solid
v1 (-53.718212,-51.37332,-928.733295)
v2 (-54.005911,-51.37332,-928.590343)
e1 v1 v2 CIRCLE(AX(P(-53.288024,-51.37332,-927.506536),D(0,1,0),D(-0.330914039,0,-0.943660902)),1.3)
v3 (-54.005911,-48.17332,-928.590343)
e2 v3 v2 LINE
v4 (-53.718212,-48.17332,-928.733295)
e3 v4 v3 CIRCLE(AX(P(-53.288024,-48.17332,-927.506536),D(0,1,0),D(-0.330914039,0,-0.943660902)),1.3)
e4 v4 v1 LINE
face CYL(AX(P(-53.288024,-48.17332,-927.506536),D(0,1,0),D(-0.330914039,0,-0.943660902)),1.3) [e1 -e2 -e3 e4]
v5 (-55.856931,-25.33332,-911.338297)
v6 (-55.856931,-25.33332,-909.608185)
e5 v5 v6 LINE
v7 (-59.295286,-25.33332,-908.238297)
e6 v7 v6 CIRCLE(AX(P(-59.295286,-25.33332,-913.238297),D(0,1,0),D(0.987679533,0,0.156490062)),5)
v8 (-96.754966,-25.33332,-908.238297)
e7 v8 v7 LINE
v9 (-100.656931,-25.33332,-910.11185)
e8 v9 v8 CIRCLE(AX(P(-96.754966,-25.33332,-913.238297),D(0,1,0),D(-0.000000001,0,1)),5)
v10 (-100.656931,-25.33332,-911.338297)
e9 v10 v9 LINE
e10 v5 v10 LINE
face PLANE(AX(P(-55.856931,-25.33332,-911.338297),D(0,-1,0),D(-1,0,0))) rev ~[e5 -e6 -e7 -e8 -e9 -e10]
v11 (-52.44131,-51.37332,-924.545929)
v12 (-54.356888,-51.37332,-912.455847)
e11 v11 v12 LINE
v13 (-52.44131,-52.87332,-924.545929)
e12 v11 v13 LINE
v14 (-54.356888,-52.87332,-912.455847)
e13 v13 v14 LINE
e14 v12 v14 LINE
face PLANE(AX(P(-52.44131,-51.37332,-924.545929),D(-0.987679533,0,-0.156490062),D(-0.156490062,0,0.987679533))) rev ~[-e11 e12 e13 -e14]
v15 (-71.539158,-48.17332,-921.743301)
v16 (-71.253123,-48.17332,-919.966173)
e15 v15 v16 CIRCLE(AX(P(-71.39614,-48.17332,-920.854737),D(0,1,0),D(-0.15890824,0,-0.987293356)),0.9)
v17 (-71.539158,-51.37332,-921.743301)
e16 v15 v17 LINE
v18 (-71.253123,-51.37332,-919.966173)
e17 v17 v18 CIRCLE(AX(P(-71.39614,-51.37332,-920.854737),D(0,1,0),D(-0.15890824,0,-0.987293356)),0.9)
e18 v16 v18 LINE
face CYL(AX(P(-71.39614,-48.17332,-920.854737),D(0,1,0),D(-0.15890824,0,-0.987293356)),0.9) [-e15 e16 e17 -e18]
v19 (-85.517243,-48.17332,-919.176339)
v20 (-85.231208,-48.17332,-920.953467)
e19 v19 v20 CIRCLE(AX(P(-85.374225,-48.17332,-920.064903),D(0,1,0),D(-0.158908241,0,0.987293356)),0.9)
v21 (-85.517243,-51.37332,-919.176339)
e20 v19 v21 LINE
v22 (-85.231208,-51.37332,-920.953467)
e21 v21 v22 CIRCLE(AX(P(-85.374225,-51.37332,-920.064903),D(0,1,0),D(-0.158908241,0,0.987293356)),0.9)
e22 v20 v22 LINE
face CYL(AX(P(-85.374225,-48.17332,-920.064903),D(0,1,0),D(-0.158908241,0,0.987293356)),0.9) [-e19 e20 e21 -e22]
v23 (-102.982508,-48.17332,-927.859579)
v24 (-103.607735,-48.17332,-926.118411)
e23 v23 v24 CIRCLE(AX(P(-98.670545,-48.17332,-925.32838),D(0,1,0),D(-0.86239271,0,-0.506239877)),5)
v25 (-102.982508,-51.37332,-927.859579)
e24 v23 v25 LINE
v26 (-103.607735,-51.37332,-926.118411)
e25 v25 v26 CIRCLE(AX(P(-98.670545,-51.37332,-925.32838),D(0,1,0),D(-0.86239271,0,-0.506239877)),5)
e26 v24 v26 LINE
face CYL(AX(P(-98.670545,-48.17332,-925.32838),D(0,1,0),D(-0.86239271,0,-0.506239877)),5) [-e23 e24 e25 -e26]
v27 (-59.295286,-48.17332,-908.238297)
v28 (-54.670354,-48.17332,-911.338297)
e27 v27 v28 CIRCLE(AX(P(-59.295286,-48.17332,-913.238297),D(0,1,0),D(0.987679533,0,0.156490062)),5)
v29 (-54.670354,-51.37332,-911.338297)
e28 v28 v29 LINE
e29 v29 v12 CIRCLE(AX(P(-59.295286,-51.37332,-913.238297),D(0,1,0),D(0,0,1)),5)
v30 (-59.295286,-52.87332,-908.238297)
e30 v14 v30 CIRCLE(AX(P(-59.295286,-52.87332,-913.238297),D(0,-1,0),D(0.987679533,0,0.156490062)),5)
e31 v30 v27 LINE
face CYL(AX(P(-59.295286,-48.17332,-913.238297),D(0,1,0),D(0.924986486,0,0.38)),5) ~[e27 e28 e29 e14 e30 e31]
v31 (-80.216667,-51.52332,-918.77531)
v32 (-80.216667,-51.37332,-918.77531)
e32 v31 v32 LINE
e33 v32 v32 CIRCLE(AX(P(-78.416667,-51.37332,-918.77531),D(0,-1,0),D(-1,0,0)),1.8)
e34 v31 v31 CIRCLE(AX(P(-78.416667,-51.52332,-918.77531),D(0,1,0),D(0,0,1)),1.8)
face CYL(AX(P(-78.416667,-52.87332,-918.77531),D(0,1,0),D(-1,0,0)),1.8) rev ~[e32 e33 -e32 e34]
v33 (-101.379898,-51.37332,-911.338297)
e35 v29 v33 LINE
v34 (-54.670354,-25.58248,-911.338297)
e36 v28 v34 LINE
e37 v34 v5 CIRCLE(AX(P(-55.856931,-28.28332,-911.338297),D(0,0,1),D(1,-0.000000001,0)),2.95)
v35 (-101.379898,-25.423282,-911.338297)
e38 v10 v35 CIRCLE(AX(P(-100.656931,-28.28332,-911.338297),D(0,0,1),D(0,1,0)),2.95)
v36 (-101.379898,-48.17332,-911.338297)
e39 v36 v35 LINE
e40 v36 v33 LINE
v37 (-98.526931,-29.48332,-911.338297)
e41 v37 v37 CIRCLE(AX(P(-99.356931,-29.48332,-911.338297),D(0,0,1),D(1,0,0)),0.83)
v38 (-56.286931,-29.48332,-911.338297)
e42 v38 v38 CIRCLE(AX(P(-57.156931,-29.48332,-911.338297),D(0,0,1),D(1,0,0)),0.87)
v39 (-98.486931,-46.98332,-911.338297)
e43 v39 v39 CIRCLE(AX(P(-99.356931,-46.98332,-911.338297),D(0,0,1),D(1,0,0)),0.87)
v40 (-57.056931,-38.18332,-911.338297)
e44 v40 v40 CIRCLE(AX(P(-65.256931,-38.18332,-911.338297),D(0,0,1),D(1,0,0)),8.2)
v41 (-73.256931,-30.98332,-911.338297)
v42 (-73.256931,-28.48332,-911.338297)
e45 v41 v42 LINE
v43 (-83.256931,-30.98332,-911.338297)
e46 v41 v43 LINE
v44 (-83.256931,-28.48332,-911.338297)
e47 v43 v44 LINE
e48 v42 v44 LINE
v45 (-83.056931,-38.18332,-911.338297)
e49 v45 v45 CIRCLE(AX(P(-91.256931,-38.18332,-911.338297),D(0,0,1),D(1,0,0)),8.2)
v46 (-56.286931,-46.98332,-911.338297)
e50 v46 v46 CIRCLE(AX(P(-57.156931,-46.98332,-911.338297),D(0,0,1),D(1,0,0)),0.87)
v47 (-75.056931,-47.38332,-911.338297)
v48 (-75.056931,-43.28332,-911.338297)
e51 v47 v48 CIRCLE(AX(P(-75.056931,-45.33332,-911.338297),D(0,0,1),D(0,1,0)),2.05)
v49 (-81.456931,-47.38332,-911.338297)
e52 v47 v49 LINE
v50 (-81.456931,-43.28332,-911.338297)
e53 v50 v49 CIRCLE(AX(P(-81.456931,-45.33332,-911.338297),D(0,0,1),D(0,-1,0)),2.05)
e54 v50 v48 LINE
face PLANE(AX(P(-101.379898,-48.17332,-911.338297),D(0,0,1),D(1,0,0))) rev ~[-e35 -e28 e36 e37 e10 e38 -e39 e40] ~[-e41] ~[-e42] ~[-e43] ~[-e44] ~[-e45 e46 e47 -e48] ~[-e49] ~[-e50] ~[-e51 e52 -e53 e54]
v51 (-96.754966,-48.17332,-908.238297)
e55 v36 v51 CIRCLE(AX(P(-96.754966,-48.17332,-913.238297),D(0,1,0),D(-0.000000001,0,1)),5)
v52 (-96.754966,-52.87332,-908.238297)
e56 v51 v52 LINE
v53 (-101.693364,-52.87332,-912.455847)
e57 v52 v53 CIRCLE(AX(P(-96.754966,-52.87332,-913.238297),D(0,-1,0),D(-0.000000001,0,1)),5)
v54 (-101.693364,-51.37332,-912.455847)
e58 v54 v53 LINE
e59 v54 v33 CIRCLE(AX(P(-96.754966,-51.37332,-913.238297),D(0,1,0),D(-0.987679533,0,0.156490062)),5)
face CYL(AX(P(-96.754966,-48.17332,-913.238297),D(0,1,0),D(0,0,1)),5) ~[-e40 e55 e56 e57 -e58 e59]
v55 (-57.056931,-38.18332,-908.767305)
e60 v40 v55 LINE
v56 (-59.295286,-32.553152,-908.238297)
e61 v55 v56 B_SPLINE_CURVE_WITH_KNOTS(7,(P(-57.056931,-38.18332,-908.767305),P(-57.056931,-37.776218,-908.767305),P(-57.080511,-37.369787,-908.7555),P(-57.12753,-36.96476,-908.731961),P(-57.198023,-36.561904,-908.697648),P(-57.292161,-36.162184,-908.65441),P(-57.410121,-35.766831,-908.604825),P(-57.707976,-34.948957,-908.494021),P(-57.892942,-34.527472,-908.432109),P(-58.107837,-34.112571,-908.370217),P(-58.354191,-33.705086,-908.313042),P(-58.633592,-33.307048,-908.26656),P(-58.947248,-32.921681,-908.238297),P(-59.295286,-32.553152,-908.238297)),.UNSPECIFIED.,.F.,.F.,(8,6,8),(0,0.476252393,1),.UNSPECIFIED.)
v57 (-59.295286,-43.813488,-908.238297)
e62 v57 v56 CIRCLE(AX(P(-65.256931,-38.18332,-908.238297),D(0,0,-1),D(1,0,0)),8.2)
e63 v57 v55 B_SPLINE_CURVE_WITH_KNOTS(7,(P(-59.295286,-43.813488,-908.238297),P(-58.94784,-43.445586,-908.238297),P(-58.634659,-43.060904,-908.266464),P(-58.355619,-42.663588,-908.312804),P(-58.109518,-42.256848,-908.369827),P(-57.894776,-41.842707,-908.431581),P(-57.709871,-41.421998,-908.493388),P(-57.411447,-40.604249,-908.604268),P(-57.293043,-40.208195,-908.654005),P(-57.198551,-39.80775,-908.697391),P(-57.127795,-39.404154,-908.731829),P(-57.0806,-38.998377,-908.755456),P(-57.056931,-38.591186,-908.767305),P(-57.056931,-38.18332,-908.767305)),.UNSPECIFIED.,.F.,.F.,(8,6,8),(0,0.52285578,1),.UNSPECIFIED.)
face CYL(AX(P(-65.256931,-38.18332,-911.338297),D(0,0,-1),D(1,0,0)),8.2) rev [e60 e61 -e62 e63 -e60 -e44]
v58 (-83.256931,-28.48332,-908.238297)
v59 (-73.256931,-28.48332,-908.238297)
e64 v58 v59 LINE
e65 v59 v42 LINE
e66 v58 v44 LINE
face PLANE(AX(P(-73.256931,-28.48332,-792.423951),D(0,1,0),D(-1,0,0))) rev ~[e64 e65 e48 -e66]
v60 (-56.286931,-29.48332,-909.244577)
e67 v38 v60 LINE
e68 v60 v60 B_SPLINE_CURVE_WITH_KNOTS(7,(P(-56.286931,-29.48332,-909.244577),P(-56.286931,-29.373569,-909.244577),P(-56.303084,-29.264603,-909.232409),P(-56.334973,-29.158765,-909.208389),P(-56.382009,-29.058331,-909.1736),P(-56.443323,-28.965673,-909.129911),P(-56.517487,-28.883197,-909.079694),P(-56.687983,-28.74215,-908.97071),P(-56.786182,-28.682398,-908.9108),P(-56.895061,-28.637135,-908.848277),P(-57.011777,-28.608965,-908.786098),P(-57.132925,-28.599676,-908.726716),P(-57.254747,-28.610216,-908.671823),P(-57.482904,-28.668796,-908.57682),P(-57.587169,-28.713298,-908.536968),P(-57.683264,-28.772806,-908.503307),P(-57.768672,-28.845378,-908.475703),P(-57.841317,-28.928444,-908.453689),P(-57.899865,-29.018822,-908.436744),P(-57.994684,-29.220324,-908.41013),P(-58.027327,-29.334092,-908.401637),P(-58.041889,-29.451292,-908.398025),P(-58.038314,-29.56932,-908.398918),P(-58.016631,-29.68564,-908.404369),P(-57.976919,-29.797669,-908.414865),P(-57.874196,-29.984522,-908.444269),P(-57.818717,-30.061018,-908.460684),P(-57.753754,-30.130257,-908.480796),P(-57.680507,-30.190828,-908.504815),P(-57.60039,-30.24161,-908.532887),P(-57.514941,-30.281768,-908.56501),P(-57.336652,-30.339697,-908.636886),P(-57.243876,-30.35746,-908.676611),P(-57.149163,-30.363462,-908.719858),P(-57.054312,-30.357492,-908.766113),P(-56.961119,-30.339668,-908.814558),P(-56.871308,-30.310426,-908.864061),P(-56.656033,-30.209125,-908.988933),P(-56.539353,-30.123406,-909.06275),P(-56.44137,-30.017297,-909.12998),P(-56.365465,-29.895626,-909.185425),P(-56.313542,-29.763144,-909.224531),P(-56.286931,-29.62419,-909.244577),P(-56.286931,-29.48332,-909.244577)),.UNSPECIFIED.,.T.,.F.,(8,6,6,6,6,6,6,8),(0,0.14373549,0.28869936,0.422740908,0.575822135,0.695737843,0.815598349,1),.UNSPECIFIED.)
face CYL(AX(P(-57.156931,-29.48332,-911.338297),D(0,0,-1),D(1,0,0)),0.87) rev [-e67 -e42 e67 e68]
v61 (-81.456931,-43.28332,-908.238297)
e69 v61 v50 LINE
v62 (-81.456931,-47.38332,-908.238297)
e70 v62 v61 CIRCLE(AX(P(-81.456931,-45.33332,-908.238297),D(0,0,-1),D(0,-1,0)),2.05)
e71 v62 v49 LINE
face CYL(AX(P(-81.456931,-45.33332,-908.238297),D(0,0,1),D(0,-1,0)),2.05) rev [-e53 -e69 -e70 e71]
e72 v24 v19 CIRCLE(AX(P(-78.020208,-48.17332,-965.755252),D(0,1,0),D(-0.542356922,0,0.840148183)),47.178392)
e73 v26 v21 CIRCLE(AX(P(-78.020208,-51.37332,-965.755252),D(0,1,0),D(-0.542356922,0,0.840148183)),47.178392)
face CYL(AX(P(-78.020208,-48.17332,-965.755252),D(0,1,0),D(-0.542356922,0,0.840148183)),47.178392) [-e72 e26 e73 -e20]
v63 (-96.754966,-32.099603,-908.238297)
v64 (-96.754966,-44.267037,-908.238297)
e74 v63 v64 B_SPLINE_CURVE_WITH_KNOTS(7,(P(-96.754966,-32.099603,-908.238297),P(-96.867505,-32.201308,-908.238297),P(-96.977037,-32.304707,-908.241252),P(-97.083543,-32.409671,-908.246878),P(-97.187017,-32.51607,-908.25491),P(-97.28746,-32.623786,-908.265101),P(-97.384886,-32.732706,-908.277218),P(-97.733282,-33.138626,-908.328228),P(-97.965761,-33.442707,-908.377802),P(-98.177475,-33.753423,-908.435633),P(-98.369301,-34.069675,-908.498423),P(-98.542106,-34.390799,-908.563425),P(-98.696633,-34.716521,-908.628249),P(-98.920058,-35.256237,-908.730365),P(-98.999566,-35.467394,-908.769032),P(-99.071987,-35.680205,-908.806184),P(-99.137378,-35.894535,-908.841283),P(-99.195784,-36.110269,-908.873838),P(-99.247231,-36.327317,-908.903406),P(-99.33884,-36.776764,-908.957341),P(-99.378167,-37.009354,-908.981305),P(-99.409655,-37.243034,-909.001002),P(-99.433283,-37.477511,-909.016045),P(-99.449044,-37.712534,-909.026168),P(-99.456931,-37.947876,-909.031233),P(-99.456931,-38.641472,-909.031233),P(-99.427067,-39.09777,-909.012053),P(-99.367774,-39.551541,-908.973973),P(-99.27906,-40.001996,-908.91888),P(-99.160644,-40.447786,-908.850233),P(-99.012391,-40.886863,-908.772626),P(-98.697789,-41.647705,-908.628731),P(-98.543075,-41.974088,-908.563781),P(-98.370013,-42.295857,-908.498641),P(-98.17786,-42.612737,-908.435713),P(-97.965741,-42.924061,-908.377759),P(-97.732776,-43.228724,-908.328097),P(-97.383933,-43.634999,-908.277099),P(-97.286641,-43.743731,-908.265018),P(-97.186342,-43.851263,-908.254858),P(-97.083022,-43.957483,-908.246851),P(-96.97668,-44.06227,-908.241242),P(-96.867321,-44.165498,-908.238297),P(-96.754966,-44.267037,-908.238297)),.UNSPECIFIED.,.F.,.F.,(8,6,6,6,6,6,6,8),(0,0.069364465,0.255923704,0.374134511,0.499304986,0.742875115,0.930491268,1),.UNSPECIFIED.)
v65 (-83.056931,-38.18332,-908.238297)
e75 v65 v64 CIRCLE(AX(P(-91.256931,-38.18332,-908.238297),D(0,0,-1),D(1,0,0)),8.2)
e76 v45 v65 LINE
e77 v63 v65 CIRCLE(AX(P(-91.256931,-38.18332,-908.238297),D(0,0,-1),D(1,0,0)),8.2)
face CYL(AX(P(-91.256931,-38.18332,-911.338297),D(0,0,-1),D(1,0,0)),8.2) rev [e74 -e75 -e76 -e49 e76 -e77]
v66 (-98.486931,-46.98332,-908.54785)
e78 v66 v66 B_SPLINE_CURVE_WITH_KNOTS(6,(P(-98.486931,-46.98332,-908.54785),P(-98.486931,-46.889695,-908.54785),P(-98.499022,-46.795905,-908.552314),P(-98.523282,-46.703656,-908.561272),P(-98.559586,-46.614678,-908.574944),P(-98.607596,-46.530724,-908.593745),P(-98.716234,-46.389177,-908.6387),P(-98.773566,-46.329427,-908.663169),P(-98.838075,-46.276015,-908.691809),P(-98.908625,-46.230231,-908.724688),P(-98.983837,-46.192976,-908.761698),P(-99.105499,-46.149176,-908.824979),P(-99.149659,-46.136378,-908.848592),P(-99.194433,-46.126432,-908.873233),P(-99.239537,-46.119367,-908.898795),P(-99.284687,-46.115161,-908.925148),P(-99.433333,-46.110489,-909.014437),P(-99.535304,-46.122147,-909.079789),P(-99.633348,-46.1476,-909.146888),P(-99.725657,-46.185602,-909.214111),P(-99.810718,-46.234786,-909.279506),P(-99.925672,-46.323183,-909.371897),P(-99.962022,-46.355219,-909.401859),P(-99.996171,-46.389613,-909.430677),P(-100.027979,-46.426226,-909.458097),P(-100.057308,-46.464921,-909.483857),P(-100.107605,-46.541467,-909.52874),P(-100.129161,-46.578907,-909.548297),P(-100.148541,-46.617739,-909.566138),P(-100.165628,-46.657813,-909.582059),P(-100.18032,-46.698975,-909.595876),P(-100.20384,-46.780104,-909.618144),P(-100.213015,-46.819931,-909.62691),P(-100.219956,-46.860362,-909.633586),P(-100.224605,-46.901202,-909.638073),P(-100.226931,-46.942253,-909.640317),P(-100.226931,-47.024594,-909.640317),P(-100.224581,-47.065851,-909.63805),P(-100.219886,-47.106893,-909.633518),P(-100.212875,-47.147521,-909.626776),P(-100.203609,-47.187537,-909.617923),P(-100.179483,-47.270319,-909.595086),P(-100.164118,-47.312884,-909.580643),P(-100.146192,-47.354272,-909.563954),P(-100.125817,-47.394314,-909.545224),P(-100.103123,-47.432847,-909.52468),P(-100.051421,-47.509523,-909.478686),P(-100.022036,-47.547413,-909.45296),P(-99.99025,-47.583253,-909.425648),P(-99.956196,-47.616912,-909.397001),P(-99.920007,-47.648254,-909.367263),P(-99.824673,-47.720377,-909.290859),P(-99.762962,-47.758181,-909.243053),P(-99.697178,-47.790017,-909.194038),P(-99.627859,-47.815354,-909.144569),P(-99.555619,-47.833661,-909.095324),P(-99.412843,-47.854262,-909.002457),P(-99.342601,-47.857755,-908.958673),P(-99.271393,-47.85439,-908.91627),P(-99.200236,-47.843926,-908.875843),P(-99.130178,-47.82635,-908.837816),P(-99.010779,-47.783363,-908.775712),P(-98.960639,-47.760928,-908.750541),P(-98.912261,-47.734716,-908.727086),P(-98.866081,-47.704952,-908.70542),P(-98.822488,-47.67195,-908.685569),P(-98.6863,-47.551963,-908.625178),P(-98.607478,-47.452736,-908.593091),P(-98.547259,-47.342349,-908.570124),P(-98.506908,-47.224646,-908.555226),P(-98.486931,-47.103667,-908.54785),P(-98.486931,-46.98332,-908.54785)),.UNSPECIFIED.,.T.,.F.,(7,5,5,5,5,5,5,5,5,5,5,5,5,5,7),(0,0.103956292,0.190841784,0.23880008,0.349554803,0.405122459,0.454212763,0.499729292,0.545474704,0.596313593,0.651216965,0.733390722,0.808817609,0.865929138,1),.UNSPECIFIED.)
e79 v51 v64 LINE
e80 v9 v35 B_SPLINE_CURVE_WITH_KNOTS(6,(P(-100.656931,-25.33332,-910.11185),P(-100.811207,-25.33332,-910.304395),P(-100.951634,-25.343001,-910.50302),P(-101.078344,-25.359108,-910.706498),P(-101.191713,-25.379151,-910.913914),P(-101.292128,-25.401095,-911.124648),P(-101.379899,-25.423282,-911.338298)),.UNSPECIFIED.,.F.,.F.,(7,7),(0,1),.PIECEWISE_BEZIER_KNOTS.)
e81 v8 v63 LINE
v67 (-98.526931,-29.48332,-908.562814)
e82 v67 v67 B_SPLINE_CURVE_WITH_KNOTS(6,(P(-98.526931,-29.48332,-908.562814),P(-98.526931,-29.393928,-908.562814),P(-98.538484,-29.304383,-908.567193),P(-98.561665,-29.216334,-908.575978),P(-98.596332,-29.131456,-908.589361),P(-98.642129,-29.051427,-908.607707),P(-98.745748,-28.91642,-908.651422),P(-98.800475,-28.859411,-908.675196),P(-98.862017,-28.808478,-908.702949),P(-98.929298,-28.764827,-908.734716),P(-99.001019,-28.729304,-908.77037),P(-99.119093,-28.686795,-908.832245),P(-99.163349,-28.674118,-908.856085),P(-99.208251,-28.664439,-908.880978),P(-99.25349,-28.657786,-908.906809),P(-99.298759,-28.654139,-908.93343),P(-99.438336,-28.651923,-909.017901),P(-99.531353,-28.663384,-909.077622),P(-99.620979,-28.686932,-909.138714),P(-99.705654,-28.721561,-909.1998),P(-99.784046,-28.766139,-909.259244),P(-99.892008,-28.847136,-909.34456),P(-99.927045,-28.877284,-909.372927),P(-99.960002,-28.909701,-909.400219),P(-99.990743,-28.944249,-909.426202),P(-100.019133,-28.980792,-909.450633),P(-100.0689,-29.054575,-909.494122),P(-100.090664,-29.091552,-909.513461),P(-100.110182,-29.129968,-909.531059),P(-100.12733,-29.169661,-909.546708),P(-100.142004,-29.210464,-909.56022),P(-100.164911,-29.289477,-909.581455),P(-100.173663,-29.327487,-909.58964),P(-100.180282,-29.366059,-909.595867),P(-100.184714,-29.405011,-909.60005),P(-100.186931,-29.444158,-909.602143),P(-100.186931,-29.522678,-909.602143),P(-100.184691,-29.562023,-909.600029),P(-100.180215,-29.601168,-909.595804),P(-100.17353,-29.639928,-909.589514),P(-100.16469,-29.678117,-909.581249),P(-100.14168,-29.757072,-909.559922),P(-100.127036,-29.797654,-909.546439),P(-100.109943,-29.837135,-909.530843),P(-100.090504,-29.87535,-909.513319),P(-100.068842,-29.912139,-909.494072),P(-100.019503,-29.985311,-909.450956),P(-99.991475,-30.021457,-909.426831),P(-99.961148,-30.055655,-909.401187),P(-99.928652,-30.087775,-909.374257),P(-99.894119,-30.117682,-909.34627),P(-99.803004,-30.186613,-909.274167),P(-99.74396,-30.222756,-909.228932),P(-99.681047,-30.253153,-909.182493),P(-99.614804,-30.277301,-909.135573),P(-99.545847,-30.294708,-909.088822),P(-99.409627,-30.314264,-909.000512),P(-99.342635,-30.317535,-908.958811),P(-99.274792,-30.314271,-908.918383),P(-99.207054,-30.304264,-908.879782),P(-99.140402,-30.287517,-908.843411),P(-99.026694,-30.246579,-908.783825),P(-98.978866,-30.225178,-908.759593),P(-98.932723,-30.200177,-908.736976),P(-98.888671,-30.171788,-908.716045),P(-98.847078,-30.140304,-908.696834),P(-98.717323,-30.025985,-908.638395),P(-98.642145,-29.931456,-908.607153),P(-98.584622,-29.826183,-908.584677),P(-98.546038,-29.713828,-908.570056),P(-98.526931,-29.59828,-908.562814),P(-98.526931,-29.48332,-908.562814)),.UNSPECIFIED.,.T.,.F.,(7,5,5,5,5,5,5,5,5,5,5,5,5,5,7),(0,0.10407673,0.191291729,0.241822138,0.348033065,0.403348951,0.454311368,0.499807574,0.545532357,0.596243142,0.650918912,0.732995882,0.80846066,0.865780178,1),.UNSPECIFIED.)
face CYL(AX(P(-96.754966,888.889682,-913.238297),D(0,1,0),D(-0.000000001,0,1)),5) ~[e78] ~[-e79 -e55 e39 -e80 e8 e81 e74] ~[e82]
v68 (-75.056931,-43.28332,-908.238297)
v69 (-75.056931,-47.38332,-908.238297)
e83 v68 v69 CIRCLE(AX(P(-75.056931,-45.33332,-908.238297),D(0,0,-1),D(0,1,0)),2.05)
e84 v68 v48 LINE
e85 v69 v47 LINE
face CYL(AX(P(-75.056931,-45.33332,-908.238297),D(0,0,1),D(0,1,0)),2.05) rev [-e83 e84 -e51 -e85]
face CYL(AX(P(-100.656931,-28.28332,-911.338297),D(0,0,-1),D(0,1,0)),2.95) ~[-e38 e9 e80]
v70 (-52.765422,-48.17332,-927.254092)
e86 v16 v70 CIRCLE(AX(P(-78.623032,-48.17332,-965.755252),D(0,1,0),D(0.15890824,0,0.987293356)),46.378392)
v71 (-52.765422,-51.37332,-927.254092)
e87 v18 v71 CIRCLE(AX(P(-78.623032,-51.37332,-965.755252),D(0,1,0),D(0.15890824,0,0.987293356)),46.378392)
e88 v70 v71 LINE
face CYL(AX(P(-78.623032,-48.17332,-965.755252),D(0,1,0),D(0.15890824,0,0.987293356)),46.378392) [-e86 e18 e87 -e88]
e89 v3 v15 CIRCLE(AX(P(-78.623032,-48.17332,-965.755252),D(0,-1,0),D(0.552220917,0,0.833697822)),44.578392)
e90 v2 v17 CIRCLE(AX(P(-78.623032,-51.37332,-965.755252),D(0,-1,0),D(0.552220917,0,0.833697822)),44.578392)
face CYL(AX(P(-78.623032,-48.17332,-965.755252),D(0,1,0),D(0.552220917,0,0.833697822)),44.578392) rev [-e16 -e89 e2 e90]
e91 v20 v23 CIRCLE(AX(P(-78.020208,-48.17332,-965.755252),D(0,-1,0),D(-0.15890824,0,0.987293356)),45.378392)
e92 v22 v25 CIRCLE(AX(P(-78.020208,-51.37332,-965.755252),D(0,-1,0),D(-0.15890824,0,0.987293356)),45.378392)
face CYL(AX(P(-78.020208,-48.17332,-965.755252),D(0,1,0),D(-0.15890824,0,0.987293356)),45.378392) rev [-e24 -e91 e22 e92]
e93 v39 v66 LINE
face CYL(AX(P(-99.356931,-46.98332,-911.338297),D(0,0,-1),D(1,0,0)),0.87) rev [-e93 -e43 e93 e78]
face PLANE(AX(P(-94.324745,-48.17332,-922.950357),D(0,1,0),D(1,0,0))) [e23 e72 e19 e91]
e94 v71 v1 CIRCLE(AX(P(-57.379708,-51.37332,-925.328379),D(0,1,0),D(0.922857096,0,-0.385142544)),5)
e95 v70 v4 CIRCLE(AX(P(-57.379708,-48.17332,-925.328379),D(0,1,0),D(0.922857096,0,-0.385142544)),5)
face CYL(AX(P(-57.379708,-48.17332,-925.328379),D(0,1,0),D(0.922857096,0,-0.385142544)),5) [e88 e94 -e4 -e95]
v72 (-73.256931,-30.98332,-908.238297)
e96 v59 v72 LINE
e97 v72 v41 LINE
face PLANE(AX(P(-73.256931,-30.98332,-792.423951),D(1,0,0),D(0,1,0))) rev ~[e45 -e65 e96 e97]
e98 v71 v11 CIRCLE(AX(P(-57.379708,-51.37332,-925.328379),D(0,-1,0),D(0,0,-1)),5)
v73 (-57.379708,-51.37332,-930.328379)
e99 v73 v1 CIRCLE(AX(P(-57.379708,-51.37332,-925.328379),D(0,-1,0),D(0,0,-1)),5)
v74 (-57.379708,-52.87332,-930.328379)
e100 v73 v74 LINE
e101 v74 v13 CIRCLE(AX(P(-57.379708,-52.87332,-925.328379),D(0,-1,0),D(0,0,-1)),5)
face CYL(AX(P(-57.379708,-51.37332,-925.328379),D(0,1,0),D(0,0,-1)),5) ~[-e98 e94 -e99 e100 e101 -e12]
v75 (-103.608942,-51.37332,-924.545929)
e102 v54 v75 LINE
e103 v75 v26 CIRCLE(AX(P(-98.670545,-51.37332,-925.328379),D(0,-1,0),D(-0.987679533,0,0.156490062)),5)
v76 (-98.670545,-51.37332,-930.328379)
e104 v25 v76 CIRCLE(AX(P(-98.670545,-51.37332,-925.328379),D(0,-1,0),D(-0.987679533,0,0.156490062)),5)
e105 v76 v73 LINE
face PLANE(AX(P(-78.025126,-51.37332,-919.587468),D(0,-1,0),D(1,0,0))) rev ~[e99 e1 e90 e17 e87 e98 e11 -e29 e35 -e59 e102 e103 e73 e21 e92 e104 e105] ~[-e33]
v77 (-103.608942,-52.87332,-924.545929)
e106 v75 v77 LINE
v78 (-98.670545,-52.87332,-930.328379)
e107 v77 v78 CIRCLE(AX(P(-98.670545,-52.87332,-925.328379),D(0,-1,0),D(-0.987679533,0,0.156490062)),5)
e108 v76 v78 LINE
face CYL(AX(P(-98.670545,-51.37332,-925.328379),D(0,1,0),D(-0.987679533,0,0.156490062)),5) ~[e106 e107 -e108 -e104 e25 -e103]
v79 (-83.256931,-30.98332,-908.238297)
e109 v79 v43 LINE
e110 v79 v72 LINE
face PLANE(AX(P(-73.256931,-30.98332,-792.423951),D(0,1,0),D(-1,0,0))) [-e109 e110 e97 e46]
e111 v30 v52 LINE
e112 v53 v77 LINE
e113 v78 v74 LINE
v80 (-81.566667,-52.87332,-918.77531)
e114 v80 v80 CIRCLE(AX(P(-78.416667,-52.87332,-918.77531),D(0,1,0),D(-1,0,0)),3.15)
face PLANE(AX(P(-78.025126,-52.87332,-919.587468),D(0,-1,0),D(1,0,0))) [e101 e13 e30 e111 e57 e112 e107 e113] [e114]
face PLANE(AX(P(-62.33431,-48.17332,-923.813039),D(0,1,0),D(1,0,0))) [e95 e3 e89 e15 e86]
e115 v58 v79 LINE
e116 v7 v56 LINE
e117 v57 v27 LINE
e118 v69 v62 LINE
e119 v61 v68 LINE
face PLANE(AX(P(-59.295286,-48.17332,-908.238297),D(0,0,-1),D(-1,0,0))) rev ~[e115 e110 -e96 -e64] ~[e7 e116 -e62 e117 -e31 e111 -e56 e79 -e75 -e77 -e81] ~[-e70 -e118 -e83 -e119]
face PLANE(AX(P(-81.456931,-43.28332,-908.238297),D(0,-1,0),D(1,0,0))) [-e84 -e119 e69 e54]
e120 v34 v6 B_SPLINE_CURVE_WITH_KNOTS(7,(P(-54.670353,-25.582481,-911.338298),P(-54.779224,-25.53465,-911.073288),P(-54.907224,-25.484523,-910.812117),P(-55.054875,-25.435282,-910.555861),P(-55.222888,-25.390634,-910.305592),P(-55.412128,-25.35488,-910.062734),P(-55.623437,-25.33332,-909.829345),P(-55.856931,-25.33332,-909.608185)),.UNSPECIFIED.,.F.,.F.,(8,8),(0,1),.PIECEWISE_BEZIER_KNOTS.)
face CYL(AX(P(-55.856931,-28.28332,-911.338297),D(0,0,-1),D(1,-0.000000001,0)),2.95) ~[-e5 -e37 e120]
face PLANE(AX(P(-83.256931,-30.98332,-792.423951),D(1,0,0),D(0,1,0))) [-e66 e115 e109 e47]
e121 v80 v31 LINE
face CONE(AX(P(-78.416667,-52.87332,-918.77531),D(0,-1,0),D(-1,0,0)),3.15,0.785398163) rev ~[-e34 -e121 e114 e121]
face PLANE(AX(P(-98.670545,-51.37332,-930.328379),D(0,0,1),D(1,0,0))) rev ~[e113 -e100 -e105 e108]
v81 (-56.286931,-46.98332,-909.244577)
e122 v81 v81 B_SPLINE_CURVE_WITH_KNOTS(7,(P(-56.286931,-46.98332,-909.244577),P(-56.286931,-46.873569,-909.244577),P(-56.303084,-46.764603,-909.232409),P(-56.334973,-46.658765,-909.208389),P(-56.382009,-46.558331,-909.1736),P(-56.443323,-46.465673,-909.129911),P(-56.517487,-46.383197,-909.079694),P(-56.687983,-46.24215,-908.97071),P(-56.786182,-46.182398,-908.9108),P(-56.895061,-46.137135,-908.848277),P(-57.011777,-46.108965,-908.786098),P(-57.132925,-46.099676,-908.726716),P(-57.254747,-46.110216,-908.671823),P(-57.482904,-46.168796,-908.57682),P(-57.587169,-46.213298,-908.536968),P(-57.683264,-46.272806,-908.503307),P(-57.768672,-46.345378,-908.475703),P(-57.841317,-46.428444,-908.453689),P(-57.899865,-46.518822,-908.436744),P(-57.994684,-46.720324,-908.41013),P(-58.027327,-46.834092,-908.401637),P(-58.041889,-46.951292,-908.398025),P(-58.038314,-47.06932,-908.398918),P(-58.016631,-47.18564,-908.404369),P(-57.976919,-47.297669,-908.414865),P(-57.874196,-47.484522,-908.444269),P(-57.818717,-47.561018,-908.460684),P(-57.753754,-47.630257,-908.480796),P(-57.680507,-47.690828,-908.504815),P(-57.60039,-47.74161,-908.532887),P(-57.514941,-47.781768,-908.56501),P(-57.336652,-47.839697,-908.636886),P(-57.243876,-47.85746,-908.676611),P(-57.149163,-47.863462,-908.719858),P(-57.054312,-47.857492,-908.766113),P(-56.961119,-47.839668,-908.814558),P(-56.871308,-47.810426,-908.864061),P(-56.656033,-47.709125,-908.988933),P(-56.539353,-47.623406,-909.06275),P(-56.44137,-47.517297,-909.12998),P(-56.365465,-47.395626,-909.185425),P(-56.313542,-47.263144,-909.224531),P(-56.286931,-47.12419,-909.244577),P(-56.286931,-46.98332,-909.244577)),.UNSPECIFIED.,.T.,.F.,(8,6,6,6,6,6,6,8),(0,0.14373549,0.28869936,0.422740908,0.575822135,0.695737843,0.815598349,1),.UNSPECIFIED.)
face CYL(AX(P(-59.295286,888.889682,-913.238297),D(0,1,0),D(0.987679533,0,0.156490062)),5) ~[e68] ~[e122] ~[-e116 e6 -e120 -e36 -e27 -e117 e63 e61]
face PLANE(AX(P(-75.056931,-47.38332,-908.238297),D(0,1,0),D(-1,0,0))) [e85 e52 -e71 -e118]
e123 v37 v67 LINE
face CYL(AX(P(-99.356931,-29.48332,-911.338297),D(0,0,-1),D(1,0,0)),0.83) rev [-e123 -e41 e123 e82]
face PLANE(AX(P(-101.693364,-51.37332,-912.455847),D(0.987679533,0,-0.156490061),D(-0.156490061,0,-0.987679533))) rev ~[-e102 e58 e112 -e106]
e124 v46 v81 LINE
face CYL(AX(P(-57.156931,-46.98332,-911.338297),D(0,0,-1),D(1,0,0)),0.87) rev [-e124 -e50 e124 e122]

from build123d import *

# Parameters (mm, degrees)
BOSS_EXTRU_1_DEPTH                                = 1.5
BOSS_EXTRU_2_START                                = 0.3
ESQUISSE2_R                                       = 0.83
ESQUISSE2_R_2                                     = 0.87
ESQUISSE2_R_3                                     = 8.2
BOSS_EXTRU_2_DEPTH                                = 3.2
ENL_V_MAT_EXTRU_1_DEPTH                           = 937.37300154
ENL_V_MAT_EXTRU_1_DEPTH_BACK                      = 937.37300154
ESQUISSE1_2_OUTSIDE_W                             = 65.507
ESQUISSE1_2_OUTSIDE_H                             = 36.406
BOSS_EXTRU_3_START                                = 3.2
BOSS_EXTRU_3_DEPTH                                = 3.2
FRAISAGE_POUR_VIS_T_TE_FRAIS_E_BOMB_E_D           = 3.6
FRAISAGE_POUR_VIS_T_TE_FRAIS_E_BOMB_E_CSINK_D     = 6.3
FRAISAGE_POUR_VIS_T_TE_FRAIS_E_BOMB_E_CSINK_ANGLE = 90
ENL_V_MAT_EXTRU_2_DEPTH                           = 118.914346143
ENL_V_MAT_EXTRU_2_DEPTH_BACK                      = 118.914346143
ESQUISSE8_W                                       = 10.000000119
ESQUISSE8_H                                       = 2.5
ESQUISSE9_W                                       = 46.70954475
ESQUISSE9_H                                       = 0.31
ENL_V_MAT_EXTRU_3_DEPTH                           = 10
BOSS_EXTRU_4_DEPTH                                = 3.39
ENL_V_MAT_EXTRU_4_DEPTH                           = 10


with BuildPart() as part:
    # Esquisse1 → Boss.-Extru.1 (new body)
    with BuildSketch(Plane.XZ.offset(51.373319983)):
        with BuildLine():
            Line((-98.670544596, -930.328379496), (-57.379707563, -930.328379496))
            ThreePointArc((-57.379707563, -930.328379496), (-53.577586343, -928.575512729), (-52.441309896, -924.545929189))
            Line((-52.441309896, -924.545929189), (-54.35688847, -912.455846702))
            ThreePointArc((-54.35688847, -912.455846702), (-56.048152904, -909.43617579), (-59.295286137, -908.238297009))
            Line((-59.295286137, -908.238297009), (-96.754966023, -908.238297009))
            ThreePointArc((-96.754966023, -908.238297009), (-100.002099255, -909.43617579), (-101.69336369, -912.455846702))
            Line((-101.69336369, -912.455846702), (-103.608942263, -924.545929189))
            ThreePointArc((-103.608942263, -924.545929189), (-102.472665816, -928.575512729), (-98.670544596, -930.328379496))
        make_face()
    extrude(amount=BOSS_EXTRU_1_DEPTH)

    # Esquisse2 → Boss.-Extru.2 (add)
    with BuildSketch(Plane.XY.offset(-911.638297009).offset(BOSS_EXTRU_2_START)):
        with BuildLine():
            Line((-52.906931145, -51.073319983), (-52.906931145, -31.173319983))
            ThreePointArc((-52.906931145, -31.173319983), (-53.77096614, -29.087354978), (-55.856931145, -28.223319983))
            Line((-55.856931145, -28.223319983), (-100.656931145, -28.223319983))
            ThreePointArc((-100.656931145, -28.223319983), (-102.742896149, -29.087354978), (-103.606931145, -31.173319983))
            Line((-103.606931145, -31.173319983), (-103.606931145, -51.073319983))
            Line((-103.606931145, -51.073319983), (-103.608942263, -51.373319983))
            Line((-103.608942263, -51.373319983), (-52.906931145, -51.373319983))
            Line((-52.906931145, -51.373319983), (-52.906931145, -51.073319983))
        make_face()
        with Locations((-99.356931145, -32.373319983)):
            Circle(ESQUISSE2_R, mode=Mode.SUBTRACT)
        with Locations((-99.356931145, -49.873319983)):
            Circle(ESQUISSE2_R_2, mode=Mode.SUBTRACT)
        with Locations((-57.156931145, -49.873319983)):
            Circle(ESQUISSE2_R_2, mode=Mode.SUBTRACT)
        with Locations((-57.156931145, -32.373319983)):
            Circle(ESQUISSE2_R_2, mode=Mode.SUBTRACT)
        with Locations((-91.256931145, -41.073319983)):
            Circle(ESQUISSE2_R_3, mode=Mode.SUBTRACT)
        with Locations((-65.256931145, -41.073319983)):
            Circle(ESQUISSE2_R_3, mode=Mode.SUBTRACT)
    extrude(amount=BOSS_EXTRU_2_DEPTH)

    # Esquisse1<2> outside → Enlèv. mat.-Extru.1 (cut, two sides: drawn at the far end of the back side and taken through both)
    with BuildSketch(Plane.XZ.offset(51.373319983).offset(-ENL_V_MAT_EXTRU_1_DEPTH_BACK)):
        with Locations((-78.0255, -919.233)):
            Rectangle(ESQUISSE1_2_OUTSIDE_W, ESQUISSE1_2_OUTSIDE_H)
        with BuildLine():
            Line((-98.670544596, -930.328379496), (-57.379707563, -930.328379496))
            ThreePointArc((-57.379707563, -930.328379496), (-53.577586343, -928.575512729), (-52.441309896, -924.545929189))
            Line((-52.441309896, -924.545929189), (-54.35688847, -912.455846702))
            ThreePointArc((-54.35688847, -912.455846702), (-56.048152904, -909.43617579), (-59.295286137, -908.238297009))
            Line((-59.295286137, -908.238297009), (-96.754966023, -908.238297009))
            ThreePointArc((-96.754966023, -908.238297009), (-100.002099255, -909.43617579), (-101.69336369, -912.455846702))
            Line((-101.69336369, -912.455846702), (-103.608942263, -924.545929189))
            ThreePointArc((-103.608942263, -924.545929189), (-102.472665816, -928.575512729), (-98.670544596, -930.328379496))
        make_face(mode=Mode.SUBTRACT)
    extrude(amount=ENL_V_MAT_EXTRU_1_DEPTH + ENL_V_MAT_EXTRU_1_DEPTH_BACK, mode=Mode.SUBTRACT)

    # Esquisse3 → Boss.-Extru.3 (add)
    with BuildSketch(Plane(origin=(0, -51.373319983, 0), x_dir=(1, 0, 0), z_dir=(0, 1, 0)).offset(BOSS_EXTRU_3_START)):
        with BuildLine():
            ThreePointArc((-102.982508149, 927.859578881), (-103.376352569, 927.018163899), (-103.607735067, 926.118411302))
            ThreePointArc((-103.607735067, 926.118411302), (-94.922727103, 921.708622836), (-85.517242835, 919.176338626))
            ThreePointArc((-85.517242835, 919.176338626), (-84.485661398, 919.92188523), (-85.231208003, 920.953466667))
            ThreePointArc((-85.231208003, 920.953466667), (-94.473289986, 923.464655248), (-102.982508149, 927.859578881))
        make_face()
        with BuildLine():
            ThreePointArc((-71.253122945, 919.966173311), (-61.614344657, 922.608295593), (-52.765422079, 927.254092215))
            ThreePointArc((-52.765422079, 927.254092215), (-53.176239028, 928.035934163), (-53.718212164, 928.733295272))
            ThreePointArc((-53.718212164, 928.733295272), (-53.866494414, 928.670740496), (-54.005911098, 928.59034327))
            ThreePointArc((-54.005911098, 928.59034327), (-62.407028515, 924.230869883), (-71.539157777, 921.743301352))
            ThreePointArc((-71.539157777, 921.743301352), (-72.284704381, 920.711719915), (-71.253122945, 919.966173311))
        make_face()
    extrude(amount=-BOSS_EXTRU_3_DEPTH)

    # Fraisage pour vis à tête fraisée bombée M31 (through all)
    with Locations(Plane.XZ.offset(52.873319983)):
        with Locations((-78.416666646, -918.775310047)):
            CounterSinkHole(FRAISAGE_POUR_VIS_T_TE_FRAIS_E_BOMB_E_D / 2, FRAISAGE_POUR_VIS_T_TE_FRAIS_E_BOMB_E_CSINK_D / 2, counter_sink_angle=FRAISAGE_POUR_VIS_T_TE_FRAIS_E_BOMB_E_CSINK_ANGLE)

    # Esquisse8 → Enlèv. mat.-Extru.2 (cut, two sides: drawn at the far end of the back side and taken through both)
    with BuildSketch(Plane(origin=(0, 0, -911.338297009), x_dir=(-1, 0, 0), z_dir=(0, 0, -1)).offset(-ENL_V_MAT_EXTRU_2_DEPTH_BACK)):
        with Locations((78.256931086, -32.623319983)):
            Rectangle(ESQUISSE8_W, ESQUISSE8_H)
    extrude(amount=ENL_V_MAT_EXTRU_2_DEPTH + ENL_V_MAT_EXTRU_2_DEPTH_BACK, mode=Mode.SUBTRACT)

    # Esquisse9 → Enlèv. mat.-Extru.3 (cut)
    with BuildSketch(Plane.XY.offset(-908.238297009)):
        with Locations((-78.02512608, -51.218319983)):
            Rectangle(ESQUISSE9_W, ESQUISSE9_H)
    extrude(amount=-ENL_V_MAT_EXTRU_3_DEPTH, mode=Mode.SUBTRACT)


with BuildPart() as enl_v_mat_extru_3_piece_1:
    # of the separate pieces the step leaves, piece 1, a body of its own (enl_v_mat_extru_3_pieces)
    add(part.part.solids().sort_by_distance((-101.69336369, -51.373319983, -912.455846702))[0])



with BuildPart() as enl_v_mat_extru_3_piece_2:
    # of the separate pieces the step leaves, piece 2, a body of its own (enl_v_mat_extru_3_pieces)
    add(part.part.solids().sort_by_distance((-96.754966023, -51.063319983, -908.238297009))[0])


with BuildPart() as enl_v_mat_extru_3_piece_2_1:
    # Corps-Déplacer/Copier1: moved
    add(enl_v_mat_extru_3_piece_2.part.moved(Location((0, 2.89, 0))))


with BuildPart() as enl_v_mat_extru_3_piece_1_1:
    add(enl_v_mat_extru_3_piece_1.part)

    add(enl_v_mat_extru_3_piece_2_1.part)  # Boss.-Extru.4 merges Enlèv. mat.-Extru.3 piece 2
    # Esquisse10 → Boss.-Extru.4 (add)
    with BuildSketch(Plane.XZ.offset(48.173319983)):
        with BuildLine():
            Line((-59.295286137, -908.238297009), (-96.754966023, -908.238297009))
            ThreePointArc((-96.754966023, -908.238297009), (-99.538848204, -909.084985078), (-101.379898455, -911.338297009))
            Line((-101.379898455, -911.338297009), (-54.670353705, -911.338297009))
            ThreePointArc((-54.670353705, -911.338297009), (-56.511403955, -909.084985078), (-59.295286137, -908.238297009))
        make_face()
    extrude(amount=BOSS_EXTRU_4_DEPTH)

    # Esquisse11 → Enlèv. mat.-Extru.4 (cut)
    with BuildSketch(Plane.XY.offset(-908.238297009)):
        with BuildLine():
            Line((-81.456931145, -43.283319983), (-75.056931145, -43.283319983))
            ThreePointArc((-75.056931145, -43.283319983), (-73.006931145, -45.333319983), (-75.056931145, -47.383319983))
            Line((-75.056931145, -47.383319983), (-81.456931145, -47.383319983))
            ThreePointArc((-81.456931145, -47.383319983), (-83.506931145, -45.333319983), (-81.456931145, -43.283319983))
        make_face()
    extrude(amount=-ENL_V_MAT_EXTRU_4_DEPTH, mode=Mode.SUBTRACT)


solid = enl_v_mat_extru_3_piece_1_1.part
